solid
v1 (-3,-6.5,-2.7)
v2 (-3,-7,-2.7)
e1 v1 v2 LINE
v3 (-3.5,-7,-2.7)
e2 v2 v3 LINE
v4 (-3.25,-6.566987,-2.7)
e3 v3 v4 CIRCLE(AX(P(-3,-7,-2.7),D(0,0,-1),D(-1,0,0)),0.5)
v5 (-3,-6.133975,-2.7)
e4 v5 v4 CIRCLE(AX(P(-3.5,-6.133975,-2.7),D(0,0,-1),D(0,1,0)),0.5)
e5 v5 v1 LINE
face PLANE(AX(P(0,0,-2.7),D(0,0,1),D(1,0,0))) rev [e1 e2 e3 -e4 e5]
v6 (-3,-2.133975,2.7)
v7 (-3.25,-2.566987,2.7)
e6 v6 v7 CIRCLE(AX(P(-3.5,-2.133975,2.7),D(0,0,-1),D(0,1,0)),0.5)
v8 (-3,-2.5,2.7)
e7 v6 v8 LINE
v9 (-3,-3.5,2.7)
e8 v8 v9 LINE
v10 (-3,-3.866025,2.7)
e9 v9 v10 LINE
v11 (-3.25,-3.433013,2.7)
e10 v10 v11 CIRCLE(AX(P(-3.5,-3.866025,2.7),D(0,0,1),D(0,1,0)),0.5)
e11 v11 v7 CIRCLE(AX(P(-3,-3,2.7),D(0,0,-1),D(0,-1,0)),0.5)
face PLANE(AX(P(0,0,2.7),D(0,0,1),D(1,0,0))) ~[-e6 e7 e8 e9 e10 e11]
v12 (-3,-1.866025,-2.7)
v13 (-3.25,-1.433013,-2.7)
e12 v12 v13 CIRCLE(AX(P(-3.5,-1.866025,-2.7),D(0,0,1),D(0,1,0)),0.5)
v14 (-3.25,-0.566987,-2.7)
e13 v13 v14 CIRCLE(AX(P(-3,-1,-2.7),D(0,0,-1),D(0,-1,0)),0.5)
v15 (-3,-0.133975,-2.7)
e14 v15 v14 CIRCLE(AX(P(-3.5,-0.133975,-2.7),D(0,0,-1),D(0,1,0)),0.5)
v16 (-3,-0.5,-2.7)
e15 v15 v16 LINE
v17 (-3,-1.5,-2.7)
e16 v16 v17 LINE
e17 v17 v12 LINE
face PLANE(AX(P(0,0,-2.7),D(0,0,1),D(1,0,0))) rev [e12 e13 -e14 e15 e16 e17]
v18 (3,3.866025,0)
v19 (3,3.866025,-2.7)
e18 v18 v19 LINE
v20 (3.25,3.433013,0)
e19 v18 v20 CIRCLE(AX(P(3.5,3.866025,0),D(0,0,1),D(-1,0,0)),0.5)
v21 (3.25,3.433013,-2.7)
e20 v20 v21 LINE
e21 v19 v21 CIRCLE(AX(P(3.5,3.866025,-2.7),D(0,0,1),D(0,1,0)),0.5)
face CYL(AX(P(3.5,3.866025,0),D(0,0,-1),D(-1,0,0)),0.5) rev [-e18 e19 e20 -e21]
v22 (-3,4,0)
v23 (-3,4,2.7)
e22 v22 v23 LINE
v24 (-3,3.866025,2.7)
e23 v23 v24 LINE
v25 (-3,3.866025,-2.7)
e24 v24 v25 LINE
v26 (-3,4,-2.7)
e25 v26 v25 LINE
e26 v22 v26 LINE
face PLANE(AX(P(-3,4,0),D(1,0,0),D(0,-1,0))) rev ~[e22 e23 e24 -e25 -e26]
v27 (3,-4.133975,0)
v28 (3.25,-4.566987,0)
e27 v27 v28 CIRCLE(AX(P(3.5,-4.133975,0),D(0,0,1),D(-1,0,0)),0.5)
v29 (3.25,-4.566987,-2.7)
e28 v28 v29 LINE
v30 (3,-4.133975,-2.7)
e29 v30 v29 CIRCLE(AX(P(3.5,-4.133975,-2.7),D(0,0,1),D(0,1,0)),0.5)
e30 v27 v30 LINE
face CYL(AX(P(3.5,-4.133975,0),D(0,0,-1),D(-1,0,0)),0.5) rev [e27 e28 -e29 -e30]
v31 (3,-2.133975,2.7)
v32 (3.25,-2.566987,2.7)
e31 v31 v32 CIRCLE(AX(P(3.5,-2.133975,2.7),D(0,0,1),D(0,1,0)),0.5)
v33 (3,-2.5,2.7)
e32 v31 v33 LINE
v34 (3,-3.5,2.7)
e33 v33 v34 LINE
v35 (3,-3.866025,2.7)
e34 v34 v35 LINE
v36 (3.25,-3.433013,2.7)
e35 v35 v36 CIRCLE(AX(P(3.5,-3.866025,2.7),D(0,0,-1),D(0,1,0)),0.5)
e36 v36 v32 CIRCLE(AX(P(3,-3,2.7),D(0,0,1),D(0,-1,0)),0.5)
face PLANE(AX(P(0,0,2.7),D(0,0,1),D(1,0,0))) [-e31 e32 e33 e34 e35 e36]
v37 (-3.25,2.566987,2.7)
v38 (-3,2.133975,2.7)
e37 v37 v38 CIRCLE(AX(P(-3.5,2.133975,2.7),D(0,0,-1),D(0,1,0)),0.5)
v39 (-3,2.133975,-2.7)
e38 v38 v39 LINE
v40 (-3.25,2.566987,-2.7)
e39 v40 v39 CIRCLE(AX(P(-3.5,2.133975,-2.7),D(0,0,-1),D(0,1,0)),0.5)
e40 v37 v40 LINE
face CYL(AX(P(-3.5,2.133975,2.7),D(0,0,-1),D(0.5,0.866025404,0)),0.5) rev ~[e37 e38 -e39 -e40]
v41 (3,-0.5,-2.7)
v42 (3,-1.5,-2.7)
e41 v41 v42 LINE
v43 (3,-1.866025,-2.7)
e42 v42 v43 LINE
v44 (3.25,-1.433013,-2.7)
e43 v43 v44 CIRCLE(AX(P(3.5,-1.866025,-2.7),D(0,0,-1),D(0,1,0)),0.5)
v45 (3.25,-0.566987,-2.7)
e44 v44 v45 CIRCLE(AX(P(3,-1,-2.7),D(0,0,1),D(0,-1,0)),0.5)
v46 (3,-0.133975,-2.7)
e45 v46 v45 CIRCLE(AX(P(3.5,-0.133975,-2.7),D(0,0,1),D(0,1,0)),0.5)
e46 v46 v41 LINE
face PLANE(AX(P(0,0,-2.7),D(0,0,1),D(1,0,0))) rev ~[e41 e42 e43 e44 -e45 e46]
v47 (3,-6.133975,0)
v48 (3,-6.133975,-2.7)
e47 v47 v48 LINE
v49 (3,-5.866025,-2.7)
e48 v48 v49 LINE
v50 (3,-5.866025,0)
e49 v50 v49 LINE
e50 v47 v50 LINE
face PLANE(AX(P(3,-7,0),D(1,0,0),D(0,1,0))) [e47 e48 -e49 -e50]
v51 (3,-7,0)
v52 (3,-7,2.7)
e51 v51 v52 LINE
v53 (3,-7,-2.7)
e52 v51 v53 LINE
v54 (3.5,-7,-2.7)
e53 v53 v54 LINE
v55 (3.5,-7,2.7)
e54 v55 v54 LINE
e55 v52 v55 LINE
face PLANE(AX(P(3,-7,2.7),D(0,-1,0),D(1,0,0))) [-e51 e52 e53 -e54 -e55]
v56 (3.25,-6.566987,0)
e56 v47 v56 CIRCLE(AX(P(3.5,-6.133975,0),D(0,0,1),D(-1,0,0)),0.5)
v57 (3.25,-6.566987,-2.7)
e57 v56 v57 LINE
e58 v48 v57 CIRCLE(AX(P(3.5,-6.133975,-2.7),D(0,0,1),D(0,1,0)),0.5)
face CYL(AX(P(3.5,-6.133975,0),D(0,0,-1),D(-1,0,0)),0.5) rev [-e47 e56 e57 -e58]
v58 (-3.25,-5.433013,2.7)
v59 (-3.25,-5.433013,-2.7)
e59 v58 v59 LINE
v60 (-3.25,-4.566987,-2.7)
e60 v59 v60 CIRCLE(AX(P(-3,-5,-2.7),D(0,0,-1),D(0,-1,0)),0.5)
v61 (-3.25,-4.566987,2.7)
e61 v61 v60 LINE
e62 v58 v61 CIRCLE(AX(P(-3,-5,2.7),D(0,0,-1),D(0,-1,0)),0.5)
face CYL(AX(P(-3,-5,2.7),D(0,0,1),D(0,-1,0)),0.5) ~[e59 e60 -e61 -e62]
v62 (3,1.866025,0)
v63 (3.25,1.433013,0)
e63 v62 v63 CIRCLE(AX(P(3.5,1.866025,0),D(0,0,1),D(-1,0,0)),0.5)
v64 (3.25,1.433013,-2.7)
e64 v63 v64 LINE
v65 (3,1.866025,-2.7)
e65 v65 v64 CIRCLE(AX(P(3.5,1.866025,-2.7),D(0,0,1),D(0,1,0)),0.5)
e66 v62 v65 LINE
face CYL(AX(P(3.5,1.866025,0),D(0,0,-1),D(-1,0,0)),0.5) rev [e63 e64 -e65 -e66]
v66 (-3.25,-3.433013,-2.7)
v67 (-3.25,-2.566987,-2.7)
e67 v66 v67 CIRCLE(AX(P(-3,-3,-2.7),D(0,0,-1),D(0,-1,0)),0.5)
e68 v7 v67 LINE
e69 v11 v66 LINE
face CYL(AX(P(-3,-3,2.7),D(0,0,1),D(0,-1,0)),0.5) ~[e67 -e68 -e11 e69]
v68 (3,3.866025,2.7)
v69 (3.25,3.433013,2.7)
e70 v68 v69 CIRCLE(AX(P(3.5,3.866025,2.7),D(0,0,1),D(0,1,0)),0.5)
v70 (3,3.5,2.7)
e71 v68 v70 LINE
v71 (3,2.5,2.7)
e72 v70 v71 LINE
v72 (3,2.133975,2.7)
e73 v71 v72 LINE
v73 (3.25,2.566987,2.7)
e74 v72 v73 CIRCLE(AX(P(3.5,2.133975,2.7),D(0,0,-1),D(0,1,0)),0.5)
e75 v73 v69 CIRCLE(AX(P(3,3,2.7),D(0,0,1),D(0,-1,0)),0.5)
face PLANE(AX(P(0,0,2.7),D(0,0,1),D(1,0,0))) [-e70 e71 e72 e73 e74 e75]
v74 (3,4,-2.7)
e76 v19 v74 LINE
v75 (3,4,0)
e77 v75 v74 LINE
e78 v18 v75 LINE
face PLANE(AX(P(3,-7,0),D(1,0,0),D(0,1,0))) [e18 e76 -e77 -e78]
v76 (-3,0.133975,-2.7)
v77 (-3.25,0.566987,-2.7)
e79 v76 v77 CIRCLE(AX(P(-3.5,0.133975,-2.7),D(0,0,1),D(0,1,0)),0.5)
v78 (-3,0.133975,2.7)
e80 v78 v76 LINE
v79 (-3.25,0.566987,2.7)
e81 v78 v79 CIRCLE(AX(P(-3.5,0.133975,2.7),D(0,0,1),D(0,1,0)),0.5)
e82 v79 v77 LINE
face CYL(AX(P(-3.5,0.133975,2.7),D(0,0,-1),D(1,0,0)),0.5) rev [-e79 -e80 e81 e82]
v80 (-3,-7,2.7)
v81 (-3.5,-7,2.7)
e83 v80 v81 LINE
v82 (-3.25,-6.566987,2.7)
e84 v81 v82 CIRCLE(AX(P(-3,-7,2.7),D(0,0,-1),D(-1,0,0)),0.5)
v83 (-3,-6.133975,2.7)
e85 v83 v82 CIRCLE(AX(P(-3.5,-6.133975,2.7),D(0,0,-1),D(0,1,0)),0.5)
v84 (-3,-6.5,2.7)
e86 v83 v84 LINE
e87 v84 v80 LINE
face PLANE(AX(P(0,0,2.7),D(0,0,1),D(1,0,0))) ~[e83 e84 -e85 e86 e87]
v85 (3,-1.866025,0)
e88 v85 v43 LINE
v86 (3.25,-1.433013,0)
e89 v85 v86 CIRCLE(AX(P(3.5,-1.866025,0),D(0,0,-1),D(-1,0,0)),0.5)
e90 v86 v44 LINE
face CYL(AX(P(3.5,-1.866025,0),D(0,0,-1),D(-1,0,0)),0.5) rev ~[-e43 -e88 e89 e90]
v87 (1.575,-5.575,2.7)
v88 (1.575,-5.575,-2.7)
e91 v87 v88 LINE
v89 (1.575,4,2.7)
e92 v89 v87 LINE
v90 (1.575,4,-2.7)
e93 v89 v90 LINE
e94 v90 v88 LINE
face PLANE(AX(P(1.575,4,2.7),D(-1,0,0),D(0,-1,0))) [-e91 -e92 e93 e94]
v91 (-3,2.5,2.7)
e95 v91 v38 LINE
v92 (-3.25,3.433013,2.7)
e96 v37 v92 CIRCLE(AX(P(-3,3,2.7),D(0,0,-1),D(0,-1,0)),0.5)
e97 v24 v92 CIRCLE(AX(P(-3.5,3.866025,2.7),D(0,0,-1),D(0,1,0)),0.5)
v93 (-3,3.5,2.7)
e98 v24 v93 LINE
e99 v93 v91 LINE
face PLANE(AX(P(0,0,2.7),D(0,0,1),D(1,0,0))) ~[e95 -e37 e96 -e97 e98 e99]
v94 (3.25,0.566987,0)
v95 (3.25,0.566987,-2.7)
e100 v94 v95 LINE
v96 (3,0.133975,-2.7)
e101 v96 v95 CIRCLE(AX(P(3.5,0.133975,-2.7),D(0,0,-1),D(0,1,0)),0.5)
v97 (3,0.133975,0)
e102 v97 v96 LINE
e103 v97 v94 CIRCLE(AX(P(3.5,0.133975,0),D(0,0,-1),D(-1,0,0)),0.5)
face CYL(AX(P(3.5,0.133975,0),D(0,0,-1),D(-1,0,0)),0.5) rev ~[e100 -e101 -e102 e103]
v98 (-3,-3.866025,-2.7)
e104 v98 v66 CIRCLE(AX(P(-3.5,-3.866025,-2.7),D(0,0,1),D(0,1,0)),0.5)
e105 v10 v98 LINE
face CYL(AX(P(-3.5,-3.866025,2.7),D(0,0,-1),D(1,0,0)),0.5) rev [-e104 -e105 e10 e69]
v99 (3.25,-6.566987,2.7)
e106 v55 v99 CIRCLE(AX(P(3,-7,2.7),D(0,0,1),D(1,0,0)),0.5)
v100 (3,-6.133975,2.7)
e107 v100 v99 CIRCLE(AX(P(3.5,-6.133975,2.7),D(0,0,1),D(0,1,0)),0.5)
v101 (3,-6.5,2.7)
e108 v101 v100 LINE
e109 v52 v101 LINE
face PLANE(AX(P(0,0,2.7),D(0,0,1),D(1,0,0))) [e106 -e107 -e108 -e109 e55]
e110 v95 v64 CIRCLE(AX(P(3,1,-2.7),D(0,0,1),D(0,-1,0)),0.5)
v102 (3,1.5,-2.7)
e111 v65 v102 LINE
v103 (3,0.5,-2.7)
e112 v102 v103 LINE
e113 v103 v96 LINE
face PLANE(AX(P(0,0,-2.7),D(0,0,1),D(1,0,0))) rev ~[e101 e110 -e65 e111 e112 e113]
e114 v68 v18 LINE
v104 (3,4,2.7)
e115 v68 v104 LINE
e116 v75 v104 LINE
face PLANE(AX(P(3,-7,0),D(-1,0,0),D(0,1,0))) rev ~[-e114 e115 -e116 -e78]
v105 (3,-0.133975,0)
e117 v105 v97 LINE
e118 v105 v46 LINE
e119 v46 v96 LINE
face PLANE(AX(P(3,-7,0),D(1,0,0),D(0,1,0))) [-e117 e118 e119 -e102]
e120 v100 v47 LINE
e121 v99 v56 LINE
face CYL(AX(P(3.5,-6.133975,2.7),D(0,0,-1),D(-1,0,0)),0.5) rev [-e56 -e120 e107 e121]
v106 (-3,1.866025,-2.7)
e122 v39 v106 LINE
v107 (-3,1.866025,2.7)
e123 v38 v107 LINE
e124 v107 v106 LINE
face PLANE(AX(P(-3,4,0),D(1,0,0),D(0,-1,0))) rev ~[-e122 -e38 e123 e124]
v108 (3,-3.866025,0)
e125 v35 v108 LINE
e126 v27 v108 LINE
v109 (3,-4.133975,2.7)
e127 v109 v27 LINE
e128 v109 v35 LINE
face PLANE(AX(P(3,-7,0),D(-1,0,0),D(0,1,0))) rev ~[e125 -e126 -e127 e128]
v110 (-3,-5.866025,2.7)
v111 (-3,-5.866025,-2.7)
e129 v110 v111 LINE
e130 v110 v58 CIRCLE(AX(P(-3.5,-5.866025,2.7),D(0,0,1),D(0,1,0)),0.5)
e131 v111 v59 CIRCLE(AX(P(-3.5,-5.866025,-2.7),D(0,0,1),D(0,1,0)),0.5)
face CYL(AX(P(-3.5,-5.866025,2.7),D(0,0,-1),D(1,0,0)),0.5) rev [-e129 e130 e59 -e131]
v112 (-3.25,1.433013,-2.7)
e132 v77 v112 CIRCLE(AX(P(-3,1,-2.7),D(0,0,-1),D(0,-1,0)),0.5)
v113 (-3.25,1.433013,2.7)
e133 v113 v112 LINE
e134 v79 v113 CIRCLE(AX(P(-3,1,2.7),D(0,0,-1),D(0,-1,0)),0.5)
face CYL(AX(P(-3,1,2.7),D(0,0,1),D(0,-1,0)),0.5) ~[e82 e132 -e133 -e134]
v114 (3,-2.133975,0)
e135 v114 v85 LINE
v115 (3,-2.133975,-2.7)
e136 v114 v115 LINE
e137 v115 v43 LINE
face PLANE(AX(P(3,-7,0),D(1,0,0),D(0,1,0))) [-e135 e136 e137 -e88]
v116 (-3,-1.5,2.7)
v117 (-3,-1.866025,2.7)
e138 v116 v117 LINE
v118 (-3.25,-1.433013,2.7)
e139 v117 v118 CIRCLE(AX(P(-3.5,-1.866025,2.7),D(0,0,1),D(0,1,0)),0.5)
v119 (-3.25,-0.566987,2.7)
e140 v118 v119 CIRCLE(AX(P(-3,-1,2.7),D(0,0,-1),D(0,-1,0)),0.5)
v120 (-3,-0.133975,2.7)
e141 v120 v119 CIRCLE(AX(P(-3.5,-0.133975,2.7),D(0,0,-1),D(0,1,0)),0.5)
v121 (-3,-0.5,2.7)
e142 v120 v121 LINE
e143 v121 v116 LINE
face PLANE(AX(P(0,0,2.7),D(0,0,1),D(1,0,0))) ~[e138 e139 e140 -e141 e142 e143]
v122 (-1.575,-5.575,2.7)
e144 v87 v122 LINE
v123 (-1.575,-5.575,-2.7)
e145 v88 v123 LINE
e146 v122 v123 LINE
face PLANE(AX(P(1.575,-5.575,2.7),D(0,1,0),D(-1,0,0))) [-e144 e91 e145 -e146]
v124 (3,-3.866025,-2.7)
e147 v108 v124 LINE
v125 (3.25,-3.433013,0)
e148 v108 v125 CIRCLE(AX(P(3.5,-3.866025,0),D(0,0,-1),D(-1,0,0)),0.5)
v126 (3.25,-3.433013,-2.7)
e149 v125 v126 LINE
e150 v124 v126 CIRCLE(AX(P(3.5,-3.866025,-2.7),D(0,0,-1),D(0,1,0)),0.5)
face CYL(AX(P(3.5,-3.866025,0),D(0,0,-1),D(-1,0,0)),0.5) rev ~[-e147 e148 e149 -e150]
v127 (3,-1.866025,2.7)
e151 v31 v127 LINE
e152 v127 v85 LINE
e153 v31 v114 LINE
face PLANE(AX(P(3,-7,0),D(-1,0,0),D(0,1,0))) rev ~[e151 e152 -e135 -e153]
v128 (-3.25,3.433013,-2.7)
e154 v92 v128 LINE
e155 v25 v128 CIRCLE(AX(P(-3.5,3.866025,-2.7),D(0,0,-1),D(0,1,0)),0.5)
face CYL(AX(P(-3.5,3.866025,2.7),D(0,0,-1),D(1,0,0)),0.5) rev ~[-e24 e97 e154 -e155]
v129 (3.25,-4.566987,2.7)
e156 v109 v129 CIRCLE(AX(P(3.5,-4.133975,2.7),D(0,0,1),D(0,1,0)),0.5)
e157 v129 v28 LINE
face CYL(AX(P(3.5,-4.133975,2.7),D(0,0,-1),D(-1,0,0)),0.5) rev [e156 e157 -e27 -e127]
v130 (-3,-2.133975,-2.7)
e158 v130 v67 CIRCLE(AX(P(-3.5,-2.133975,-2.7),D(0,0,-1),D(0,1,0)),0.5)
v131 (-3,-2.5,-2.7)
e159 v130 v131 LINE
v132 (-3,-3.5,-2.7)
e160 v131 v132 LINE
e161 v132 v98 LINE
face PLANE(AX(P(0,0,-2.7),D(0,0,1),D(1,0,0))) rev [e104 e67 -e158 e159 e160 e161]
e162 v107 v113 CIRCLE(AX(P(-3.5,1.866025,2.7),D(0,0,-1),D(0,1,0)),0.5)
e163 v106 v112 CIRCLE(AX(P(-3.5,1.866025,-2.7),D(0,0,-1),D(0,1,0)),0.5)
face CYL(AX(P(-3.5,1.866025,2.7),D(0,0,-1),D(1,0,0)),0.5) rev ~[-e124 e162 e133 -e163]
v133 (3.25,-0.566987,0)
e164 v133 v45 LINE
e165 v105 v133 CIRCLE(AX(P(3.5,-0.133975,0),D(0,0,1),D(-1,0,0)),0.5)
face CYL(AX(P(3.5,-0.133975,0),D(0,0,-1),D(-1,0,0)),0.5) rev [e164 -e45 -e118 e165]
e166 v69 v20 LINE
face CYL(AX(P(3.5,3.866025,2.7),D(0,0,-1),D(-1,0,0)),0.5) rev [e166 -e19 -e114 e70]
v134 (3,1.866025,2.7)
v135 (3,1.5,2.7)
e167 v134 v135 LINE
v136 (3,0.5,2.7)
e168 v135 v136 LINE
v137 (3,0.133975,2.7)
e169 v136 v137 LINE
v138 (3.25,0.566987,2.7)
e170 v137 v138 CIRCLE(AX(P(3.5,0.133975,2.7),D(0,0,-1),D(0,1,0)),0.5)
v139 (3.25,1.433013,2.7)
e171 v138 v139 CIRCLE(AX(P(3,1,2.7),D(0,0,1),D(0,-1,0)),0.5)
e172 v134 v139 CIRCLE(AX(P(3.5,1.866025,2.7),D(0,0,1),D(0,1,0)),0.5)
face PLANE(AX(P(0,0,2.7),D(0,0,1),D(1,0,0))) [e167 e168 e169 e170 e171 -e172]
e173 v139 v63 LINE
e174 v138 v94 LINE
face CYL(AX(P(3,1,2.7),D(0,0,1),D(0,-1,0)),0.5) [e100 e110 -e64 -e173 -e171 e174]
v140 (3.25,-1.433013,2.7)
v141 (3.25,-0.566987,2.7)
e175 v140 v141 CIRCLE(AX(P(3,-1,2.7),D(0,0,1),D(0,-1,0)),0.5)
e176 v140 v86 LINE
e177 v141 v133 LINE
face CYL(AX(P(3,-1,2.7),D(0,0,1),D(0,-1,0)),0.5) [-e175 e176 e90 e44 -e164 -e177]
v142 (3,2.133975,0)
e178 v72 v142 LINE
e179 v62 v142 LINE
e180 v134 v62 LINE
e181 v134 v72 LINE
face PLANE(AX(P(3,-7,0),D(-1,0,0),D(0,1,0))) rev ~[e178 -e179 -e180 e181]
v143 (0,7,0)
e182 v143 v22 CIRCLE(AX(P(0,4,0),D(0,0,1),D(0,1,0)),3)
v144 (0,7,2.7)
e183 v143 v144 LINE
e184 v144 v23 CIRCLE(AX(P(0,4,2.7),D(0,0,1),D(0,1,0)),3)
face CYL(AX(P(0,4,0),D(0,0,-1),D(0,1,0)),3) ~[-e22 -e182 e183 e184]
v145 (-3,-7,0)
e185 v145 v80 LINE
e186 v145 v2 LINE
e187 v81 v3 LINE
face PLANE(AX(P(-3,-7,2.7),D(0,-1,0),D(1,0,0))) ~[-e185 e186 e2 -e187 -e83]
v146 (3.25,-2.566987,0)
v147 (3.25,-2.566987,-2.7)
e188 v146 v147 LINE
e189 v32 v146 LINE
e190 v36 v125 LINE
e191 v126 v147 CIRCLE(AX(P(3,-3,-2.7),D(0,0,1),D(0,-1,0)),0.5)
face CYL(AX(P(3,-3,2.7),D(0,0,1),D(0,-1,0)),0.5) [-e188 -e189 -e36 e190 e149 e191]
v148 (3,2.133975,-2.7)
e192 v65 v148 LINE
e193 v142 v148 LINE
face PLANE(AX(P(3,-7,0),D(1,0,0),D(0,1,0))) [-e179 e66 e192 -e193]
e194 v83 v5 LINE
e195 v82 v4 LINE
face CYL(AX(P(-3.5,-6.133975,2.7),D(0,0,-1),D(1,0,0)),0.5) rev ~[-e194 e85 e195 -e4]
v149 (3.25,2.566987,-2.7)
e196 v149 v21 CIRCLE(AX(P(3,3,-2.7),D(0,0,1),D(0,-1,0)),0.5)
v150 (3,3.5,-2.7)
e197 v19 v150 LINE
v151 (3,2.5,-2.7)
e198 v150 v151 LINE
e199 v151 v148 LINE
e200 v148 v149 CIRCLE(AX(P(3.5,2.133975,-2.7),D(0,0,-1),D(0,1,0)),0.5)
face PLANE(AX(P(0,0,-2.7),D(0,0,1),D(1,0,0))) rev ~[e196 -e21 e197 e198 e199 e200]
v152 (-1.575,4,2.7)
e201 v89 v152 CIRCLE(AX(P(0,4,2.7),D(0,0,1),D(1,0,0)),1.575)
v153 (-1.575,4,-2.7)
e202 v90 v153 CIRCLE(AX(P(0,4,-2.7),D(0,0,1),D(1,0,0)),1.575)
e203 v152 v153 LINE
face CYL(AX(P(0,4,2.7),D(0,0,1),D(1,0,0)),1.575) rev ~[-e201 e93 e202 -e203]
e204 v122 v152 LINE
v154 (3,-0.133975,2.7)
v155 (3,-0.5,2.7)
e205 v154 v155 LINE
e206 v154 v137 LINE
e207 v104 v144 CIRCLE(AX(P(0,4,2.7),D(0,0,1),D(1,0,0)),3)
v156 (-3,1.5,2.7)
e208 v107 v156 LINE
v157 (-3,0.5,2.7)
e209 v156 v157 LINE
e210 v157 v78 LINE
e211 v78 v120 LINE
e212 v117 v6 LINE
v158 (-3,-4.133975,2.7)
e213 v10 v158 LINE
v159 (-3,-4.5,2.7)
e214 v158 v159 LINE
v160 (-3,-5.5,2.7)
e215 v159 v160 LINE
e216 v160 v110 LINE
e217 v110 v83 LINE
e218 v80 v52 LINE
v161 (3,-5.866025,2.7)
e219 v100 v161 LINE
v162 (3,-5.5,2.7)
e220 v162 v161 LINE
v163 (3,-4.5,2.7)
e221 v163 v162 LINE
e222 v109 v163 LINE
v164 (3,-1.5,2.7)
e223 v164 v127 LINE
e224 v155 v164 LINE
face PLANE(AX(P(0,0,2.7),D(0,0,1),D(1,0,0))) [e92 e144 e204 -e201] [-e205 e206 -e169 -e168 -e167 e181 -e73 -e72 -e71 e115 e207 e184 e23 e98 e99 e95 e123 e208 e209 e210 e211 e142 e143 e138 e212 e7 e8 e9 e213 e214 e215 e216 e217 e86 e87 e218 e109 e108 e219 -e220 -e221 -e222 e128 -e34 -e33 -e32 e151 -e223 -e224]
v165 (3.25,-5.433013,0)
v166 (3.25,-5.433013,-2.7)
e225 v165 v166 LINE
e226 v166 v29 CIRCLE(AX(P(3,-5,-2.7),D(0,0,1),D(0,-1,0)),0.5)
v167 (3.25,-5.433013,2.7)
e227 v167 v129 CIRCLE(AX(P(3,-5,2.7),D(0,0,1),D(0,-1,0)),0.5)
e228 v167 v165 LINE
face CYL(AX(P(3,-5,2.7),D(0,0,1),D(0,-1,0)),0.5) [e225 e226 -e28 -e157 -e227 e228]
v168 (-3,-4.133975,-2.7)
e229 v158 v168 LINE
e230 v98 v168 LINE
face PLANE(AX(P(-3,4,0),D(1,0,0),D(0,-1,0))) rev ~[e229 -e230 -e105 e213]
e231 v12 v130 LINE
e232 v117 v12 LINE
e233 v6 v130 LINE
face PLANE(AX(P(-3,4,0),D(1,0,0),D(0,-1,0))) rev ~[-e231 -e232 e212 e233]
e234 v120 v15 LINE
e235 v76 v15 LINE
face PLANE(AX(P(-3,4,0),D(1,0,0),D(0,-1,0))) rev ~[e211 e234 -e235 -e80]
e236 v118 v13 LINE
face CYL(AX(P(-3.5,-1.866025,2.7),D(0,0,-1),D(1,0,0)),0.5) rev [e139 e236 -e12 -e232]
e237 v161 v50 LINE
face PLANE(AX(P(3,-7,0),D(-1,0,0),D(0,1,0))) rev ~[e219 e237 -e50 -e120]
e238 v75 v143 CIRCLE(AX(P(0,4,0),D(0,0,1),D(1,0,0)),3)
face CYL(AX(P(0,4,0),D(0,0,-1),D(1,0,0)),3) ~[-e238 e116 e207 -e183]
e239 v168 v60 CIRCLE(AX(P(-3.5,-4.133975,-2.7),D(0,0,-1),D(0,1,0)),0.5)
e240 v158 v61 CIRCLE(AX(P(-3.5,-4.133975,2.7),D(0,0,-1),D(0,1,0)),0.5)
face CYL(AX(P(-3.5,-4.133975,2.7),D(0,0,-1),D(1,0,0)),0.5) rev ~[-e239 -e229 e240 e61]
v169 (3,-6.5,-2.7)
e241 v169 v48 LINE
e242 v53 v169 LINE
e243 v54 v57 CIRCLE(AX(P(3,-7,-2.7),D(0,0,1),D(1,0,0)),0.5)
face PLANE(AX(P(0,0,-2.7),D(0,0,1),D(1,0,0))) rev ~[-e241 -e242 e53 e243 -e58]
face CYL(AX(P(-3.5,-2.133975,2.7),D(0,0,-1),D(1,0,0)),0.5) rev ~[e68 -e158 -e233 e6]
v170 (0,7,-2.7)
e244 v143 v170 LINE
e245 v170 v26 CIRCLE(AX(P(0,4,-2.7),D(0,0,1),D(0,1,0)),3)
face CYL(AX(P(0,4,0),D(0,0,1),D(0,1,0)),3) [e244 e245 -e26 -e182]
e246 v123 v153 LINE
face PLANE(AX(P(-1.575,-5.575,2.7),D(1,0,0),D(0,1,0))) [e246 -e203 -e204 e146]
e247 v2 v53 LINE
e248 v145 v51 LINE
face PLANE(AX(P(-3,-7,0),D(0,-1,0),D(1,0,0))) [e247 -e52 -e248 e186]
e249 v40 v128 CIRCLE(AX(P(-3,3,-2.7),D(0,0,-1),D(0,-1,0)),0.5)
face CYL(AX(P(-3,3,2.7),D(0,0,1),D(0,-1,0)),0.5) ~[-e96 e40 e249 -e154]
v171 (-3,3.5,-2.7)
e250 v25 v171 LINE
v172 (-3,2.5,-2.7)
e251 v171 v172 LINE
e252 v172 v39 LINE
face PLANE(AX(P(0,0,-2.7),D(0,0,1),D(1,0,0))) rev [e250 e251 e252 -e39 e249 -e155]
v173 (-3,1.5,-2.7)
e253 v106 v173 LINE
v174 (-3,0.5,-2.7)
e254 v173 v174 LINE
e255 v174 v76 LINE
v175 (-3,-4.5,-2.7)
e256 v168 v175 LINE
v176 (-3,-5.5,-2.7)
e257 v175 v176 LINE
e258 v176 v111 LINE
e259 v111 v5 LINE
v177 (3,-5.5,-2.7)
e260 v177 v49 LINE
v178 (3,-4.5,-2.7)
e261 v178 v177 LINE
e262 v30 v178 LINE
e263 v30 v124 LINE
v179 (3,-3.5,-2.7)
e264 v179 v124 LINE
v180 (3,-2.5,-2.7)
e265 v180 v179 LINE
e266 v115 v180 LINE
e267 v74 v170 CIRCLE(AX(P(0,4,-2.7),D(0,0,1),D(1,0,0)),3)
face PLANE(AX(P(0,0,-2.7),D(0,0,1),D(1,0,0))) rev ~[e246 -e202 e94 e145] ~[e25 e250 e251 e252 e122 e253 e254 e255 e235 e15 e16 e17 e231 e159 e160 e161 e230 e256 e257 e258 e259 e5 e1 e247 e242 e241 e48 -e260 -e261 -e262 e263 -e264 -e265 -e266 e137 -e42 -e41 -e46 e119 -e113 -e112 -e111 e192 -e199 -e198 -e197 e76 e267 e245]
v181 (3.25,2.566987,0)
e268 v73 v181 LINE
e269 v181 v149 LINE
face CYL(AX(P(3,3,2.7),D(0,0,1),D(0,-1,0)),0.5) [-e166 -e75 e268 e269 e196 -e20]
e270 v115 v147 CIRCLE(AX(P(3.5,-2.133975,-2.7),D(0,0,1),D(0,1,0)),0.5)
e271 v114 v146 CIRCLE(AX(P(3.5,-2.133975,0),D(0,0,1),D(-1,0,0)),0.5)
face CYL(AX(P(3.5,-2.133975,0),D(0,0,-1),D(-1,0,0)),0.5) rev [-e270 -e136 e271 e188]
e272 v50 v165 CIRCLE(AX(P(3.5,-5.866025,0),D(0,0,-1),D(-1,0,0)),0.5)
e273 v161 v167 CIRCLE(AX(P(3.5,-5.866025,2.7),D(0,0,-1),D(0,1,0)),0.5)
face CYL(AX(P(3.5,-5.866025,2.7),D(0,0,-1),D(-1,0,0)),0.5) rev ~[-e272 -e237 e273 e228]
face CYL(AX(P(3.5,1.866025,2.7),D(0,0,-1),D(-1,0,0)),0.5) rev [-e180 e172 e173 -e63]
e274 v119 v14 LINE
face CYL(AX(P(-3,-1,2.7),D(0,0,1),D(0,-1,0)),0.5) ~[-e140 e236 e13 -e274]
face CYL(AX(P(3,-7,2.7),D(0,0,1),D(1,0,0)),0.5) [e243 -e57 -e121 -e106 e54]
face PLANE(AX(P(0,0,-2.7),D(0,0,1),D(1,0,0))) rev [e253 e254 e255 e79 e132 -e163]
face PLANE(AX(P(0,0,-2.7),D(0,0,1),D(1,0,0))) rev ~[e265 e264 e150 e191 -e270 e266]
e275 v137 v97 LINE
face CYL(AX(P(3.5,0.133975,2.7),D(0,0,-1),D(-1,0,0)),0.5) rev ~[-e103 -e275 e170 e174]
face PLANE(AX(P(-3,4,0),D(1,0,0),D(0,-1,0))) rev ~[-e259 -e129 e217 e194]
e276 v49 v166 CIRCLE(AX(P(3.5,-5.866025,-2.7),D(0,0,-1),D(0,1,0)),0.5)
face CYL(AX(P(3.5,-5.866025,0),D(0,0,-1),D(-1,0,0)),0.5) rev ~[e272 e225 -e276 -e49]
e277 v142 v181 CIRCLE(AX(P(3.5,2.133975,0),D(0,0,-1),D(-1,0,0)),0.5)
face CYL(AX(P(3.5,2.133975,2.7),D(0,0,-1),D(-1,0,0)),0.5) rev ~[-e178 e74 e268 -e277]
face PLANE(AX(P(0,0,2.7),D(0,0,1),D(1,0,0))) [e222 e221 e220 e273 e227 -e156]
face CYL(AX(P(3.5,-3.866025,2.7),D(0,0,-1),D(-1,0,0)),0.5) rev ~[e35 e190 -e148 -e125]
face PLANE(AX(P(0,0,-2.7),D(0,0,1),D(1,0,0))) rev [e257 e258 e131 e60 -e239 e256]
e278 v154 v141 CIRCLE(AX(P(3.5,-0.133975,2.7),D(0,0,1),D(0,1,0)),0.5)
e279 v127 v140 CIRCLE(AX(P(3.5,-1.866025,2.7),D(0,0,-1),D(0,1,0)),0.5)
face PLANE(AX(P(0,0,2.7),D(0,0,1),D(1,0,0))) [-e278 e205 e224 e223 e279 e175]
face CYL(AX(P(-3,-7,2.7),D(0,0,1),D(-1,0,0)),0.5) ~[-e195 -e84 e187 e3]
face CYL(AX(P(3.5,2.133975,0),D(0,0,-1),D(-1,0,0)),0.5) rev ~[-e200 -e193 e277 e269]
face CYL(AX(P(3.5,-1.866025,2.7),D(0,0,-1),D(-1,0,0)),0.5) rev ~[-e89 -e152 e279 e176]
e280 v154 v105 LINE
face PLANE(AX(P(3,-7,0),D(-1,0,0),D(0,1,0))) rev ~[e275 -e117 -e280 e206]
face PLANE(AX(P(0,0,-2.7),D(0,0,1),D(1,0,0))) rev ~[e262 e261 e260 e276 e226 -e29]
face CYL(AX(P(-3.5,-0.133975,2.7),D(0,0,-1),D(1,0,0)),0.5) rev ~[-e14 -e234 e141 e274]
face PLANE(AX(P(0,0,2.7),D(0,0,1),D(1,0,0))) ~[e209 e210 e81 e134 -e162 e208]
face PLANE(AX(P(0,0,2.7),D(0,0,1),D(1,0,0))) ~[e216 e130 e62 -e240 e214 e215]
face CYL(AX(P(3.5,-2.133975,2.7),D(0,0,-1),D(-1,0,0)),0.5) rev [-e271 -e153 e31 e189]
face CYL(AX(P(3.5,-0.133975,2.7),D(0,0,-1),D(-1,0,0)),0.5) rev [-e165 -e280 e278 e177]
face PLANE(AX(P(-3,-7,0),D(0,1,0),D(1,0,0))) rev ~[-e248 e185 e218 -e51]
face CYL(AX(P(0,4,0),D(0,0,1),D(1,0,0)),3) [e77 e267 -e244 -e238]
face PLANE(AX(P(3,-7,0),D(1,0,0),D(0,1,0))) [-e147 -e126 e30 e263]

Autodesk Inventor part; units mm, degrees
ref_plane "YZ Plane" through (0, 0, 0) normal (1, 0, 0) x (0, 1, 0)
ref_plane "XZ Plane" through (0, 0, 0) normal (0, 1, 0) x (-1, 0, 0)
sketch "Esquisse1" plane through (0, 0, 0) normal (0, 0, 1) x (1, 0, 0)
  line L0 (-3, -7) -> (3, -7)
  line L1 (3, -7) -> (3, 4)
  line L2 (0, 7) -> (0, 7)
  line L3 (-3, 4) -> (-3, -7)
  line L4 (-3, -7) -> (3, 7) construction
  line L5 (3, -7) -> (-3, 7) construction
  arc A0 (0, 7) -> (-3, 4) centre (0, 4) ccw
  arc A1 (3, 4) -> (0, 7) centre (0, 4) ccw
  point P0 (0, 0)
  dimension "d0" = 6
  dimension "d1" = 14
  dimension "d2" = 3
extrude "Extrusion1" add sketch "Esquisse1" along normal mid plane 5.4
sketch "Esquisse2" plane through (0, 0, 2.7) normal (0, 0, 1) x (1, 0, 0)
  line L0 (-3, -7) -> (3, -7) construction
  line L1 (3, -7) -> (3, 4) construction
  arc A0 (3, 4) -> (-3, 4) centre (0, 4) ccw construction
  line L2 (-3, 4) -> (-3, -7) construction
  arc A1 (1.575, 4) -> (-1.575, 4) centre (0, 4) ccw
  line L3 (1.575, 4) -> (1.575, -5.575)
  line L4 (1.575, -5.575) -> (-1.575, -5.575)
  line L5 (-1.575, -5.575) -> (-1.575, 4)
  point P0 (0, 0)
  dimension "d21" = 3.15
extrude "Extrusion2" cut sketch "Esquisse2" against normal through all
sketch "Esquisse3" plane through (0, 0, 2.7) normal (0, 0, 1) x (1, 0, 0)
  line L0 (3, 4) -> (3, -7) projected
  arc A0 (3.5, -7) -> (3, -6.5) centre (3, -7) ccw
  line L1 (-3, -7) -> (3, -7) projected
  line L2 (3, -7) -> (3.5, -7)
  line L3 (3, -7) -> (3, -6.5)
  arc A1 (3, -5.5) -> (3, -4.5) centre (3, -5) ccw
  arc A2 (3, -3.5) -> (3, -2.5) centre (3, -3) ccw
  arc A3 (3, -1.5) -> (3, -0.5) centre (3, -1) ccw
  arc A4 (3, 0.5) -> (3, 1.5) centre (3, 1) ccw
  arc A5 (3, 2.5) -> (3, 3.5) centre (3, 3) ccw
  line L4 (3, -5.5) -> (3, -4.5)
  line L5 (3, -3.5) -> (3, -2.5)
  line L6 (3, -1.5) -> (3, -0.5)
  line L7 (3, 0.5) -> (3, 1.5)
  line L8 (3, 2.5) -> (3, 3.5)
  point P0 (0, 0)
  dimension "d8" = 1
  dimension "d9" = 1
  dimension "d10" = 2
  dimension "d13" = 2
extrude "Extrusion3" add sketch "Esquisse3" against normal up to surface (5.4 mm away)
mirror "Symétrie1" about plane through (0, 0, 0) normal (1, 0, 0) of "Extrusion3"
fillet "Congé1" radius 0.5 33 edges at (3, -6.5, -1.35) (3, -6.5, 1.35) (3, -5.5, -1.35) (3, -4.5, -1.35) (3, -5.5, 1.35) (3, -4.5, 1.35) (3, -3.5, -1.35) (3, -2.5, -1.35) (3, -3.5, 1.35) (3, -2.5, 1.35) (3, -1.5, -1.35) (3, -0.5, -1.35) (3, -1.5, 1.35) (3, -0.5, 1.35) (3, 0.5, -1.35) (3, 1.5, -1.35) (3, 0.5, 1.35) (3, 1.5, 1.35) (3, 2.5, -1.35) (3, 3.5, -1.35) (3, 2.5, 1.35) (3, 3.5, 1.35) (-3, -6.5, 0) (-3, -4.5, 0) (-3, -5.5, 0) (-3, -2.5, 0) (-3, -3.5, 0) (-3, -0.5, 0) (-3, -1.5, 0) (-3, 1.5, 0) (-3, 0.5, 0) (-3, 3.5, 0) (-3, 2.5, 0)
ref_plane "Plan de construction1" through (3.5, 4, -2.7) normal (0, -1, 0) x (1, 0, 0)
equation "\"d9\" = d8"
properties part number "Tendeur" material "Aluminium"
